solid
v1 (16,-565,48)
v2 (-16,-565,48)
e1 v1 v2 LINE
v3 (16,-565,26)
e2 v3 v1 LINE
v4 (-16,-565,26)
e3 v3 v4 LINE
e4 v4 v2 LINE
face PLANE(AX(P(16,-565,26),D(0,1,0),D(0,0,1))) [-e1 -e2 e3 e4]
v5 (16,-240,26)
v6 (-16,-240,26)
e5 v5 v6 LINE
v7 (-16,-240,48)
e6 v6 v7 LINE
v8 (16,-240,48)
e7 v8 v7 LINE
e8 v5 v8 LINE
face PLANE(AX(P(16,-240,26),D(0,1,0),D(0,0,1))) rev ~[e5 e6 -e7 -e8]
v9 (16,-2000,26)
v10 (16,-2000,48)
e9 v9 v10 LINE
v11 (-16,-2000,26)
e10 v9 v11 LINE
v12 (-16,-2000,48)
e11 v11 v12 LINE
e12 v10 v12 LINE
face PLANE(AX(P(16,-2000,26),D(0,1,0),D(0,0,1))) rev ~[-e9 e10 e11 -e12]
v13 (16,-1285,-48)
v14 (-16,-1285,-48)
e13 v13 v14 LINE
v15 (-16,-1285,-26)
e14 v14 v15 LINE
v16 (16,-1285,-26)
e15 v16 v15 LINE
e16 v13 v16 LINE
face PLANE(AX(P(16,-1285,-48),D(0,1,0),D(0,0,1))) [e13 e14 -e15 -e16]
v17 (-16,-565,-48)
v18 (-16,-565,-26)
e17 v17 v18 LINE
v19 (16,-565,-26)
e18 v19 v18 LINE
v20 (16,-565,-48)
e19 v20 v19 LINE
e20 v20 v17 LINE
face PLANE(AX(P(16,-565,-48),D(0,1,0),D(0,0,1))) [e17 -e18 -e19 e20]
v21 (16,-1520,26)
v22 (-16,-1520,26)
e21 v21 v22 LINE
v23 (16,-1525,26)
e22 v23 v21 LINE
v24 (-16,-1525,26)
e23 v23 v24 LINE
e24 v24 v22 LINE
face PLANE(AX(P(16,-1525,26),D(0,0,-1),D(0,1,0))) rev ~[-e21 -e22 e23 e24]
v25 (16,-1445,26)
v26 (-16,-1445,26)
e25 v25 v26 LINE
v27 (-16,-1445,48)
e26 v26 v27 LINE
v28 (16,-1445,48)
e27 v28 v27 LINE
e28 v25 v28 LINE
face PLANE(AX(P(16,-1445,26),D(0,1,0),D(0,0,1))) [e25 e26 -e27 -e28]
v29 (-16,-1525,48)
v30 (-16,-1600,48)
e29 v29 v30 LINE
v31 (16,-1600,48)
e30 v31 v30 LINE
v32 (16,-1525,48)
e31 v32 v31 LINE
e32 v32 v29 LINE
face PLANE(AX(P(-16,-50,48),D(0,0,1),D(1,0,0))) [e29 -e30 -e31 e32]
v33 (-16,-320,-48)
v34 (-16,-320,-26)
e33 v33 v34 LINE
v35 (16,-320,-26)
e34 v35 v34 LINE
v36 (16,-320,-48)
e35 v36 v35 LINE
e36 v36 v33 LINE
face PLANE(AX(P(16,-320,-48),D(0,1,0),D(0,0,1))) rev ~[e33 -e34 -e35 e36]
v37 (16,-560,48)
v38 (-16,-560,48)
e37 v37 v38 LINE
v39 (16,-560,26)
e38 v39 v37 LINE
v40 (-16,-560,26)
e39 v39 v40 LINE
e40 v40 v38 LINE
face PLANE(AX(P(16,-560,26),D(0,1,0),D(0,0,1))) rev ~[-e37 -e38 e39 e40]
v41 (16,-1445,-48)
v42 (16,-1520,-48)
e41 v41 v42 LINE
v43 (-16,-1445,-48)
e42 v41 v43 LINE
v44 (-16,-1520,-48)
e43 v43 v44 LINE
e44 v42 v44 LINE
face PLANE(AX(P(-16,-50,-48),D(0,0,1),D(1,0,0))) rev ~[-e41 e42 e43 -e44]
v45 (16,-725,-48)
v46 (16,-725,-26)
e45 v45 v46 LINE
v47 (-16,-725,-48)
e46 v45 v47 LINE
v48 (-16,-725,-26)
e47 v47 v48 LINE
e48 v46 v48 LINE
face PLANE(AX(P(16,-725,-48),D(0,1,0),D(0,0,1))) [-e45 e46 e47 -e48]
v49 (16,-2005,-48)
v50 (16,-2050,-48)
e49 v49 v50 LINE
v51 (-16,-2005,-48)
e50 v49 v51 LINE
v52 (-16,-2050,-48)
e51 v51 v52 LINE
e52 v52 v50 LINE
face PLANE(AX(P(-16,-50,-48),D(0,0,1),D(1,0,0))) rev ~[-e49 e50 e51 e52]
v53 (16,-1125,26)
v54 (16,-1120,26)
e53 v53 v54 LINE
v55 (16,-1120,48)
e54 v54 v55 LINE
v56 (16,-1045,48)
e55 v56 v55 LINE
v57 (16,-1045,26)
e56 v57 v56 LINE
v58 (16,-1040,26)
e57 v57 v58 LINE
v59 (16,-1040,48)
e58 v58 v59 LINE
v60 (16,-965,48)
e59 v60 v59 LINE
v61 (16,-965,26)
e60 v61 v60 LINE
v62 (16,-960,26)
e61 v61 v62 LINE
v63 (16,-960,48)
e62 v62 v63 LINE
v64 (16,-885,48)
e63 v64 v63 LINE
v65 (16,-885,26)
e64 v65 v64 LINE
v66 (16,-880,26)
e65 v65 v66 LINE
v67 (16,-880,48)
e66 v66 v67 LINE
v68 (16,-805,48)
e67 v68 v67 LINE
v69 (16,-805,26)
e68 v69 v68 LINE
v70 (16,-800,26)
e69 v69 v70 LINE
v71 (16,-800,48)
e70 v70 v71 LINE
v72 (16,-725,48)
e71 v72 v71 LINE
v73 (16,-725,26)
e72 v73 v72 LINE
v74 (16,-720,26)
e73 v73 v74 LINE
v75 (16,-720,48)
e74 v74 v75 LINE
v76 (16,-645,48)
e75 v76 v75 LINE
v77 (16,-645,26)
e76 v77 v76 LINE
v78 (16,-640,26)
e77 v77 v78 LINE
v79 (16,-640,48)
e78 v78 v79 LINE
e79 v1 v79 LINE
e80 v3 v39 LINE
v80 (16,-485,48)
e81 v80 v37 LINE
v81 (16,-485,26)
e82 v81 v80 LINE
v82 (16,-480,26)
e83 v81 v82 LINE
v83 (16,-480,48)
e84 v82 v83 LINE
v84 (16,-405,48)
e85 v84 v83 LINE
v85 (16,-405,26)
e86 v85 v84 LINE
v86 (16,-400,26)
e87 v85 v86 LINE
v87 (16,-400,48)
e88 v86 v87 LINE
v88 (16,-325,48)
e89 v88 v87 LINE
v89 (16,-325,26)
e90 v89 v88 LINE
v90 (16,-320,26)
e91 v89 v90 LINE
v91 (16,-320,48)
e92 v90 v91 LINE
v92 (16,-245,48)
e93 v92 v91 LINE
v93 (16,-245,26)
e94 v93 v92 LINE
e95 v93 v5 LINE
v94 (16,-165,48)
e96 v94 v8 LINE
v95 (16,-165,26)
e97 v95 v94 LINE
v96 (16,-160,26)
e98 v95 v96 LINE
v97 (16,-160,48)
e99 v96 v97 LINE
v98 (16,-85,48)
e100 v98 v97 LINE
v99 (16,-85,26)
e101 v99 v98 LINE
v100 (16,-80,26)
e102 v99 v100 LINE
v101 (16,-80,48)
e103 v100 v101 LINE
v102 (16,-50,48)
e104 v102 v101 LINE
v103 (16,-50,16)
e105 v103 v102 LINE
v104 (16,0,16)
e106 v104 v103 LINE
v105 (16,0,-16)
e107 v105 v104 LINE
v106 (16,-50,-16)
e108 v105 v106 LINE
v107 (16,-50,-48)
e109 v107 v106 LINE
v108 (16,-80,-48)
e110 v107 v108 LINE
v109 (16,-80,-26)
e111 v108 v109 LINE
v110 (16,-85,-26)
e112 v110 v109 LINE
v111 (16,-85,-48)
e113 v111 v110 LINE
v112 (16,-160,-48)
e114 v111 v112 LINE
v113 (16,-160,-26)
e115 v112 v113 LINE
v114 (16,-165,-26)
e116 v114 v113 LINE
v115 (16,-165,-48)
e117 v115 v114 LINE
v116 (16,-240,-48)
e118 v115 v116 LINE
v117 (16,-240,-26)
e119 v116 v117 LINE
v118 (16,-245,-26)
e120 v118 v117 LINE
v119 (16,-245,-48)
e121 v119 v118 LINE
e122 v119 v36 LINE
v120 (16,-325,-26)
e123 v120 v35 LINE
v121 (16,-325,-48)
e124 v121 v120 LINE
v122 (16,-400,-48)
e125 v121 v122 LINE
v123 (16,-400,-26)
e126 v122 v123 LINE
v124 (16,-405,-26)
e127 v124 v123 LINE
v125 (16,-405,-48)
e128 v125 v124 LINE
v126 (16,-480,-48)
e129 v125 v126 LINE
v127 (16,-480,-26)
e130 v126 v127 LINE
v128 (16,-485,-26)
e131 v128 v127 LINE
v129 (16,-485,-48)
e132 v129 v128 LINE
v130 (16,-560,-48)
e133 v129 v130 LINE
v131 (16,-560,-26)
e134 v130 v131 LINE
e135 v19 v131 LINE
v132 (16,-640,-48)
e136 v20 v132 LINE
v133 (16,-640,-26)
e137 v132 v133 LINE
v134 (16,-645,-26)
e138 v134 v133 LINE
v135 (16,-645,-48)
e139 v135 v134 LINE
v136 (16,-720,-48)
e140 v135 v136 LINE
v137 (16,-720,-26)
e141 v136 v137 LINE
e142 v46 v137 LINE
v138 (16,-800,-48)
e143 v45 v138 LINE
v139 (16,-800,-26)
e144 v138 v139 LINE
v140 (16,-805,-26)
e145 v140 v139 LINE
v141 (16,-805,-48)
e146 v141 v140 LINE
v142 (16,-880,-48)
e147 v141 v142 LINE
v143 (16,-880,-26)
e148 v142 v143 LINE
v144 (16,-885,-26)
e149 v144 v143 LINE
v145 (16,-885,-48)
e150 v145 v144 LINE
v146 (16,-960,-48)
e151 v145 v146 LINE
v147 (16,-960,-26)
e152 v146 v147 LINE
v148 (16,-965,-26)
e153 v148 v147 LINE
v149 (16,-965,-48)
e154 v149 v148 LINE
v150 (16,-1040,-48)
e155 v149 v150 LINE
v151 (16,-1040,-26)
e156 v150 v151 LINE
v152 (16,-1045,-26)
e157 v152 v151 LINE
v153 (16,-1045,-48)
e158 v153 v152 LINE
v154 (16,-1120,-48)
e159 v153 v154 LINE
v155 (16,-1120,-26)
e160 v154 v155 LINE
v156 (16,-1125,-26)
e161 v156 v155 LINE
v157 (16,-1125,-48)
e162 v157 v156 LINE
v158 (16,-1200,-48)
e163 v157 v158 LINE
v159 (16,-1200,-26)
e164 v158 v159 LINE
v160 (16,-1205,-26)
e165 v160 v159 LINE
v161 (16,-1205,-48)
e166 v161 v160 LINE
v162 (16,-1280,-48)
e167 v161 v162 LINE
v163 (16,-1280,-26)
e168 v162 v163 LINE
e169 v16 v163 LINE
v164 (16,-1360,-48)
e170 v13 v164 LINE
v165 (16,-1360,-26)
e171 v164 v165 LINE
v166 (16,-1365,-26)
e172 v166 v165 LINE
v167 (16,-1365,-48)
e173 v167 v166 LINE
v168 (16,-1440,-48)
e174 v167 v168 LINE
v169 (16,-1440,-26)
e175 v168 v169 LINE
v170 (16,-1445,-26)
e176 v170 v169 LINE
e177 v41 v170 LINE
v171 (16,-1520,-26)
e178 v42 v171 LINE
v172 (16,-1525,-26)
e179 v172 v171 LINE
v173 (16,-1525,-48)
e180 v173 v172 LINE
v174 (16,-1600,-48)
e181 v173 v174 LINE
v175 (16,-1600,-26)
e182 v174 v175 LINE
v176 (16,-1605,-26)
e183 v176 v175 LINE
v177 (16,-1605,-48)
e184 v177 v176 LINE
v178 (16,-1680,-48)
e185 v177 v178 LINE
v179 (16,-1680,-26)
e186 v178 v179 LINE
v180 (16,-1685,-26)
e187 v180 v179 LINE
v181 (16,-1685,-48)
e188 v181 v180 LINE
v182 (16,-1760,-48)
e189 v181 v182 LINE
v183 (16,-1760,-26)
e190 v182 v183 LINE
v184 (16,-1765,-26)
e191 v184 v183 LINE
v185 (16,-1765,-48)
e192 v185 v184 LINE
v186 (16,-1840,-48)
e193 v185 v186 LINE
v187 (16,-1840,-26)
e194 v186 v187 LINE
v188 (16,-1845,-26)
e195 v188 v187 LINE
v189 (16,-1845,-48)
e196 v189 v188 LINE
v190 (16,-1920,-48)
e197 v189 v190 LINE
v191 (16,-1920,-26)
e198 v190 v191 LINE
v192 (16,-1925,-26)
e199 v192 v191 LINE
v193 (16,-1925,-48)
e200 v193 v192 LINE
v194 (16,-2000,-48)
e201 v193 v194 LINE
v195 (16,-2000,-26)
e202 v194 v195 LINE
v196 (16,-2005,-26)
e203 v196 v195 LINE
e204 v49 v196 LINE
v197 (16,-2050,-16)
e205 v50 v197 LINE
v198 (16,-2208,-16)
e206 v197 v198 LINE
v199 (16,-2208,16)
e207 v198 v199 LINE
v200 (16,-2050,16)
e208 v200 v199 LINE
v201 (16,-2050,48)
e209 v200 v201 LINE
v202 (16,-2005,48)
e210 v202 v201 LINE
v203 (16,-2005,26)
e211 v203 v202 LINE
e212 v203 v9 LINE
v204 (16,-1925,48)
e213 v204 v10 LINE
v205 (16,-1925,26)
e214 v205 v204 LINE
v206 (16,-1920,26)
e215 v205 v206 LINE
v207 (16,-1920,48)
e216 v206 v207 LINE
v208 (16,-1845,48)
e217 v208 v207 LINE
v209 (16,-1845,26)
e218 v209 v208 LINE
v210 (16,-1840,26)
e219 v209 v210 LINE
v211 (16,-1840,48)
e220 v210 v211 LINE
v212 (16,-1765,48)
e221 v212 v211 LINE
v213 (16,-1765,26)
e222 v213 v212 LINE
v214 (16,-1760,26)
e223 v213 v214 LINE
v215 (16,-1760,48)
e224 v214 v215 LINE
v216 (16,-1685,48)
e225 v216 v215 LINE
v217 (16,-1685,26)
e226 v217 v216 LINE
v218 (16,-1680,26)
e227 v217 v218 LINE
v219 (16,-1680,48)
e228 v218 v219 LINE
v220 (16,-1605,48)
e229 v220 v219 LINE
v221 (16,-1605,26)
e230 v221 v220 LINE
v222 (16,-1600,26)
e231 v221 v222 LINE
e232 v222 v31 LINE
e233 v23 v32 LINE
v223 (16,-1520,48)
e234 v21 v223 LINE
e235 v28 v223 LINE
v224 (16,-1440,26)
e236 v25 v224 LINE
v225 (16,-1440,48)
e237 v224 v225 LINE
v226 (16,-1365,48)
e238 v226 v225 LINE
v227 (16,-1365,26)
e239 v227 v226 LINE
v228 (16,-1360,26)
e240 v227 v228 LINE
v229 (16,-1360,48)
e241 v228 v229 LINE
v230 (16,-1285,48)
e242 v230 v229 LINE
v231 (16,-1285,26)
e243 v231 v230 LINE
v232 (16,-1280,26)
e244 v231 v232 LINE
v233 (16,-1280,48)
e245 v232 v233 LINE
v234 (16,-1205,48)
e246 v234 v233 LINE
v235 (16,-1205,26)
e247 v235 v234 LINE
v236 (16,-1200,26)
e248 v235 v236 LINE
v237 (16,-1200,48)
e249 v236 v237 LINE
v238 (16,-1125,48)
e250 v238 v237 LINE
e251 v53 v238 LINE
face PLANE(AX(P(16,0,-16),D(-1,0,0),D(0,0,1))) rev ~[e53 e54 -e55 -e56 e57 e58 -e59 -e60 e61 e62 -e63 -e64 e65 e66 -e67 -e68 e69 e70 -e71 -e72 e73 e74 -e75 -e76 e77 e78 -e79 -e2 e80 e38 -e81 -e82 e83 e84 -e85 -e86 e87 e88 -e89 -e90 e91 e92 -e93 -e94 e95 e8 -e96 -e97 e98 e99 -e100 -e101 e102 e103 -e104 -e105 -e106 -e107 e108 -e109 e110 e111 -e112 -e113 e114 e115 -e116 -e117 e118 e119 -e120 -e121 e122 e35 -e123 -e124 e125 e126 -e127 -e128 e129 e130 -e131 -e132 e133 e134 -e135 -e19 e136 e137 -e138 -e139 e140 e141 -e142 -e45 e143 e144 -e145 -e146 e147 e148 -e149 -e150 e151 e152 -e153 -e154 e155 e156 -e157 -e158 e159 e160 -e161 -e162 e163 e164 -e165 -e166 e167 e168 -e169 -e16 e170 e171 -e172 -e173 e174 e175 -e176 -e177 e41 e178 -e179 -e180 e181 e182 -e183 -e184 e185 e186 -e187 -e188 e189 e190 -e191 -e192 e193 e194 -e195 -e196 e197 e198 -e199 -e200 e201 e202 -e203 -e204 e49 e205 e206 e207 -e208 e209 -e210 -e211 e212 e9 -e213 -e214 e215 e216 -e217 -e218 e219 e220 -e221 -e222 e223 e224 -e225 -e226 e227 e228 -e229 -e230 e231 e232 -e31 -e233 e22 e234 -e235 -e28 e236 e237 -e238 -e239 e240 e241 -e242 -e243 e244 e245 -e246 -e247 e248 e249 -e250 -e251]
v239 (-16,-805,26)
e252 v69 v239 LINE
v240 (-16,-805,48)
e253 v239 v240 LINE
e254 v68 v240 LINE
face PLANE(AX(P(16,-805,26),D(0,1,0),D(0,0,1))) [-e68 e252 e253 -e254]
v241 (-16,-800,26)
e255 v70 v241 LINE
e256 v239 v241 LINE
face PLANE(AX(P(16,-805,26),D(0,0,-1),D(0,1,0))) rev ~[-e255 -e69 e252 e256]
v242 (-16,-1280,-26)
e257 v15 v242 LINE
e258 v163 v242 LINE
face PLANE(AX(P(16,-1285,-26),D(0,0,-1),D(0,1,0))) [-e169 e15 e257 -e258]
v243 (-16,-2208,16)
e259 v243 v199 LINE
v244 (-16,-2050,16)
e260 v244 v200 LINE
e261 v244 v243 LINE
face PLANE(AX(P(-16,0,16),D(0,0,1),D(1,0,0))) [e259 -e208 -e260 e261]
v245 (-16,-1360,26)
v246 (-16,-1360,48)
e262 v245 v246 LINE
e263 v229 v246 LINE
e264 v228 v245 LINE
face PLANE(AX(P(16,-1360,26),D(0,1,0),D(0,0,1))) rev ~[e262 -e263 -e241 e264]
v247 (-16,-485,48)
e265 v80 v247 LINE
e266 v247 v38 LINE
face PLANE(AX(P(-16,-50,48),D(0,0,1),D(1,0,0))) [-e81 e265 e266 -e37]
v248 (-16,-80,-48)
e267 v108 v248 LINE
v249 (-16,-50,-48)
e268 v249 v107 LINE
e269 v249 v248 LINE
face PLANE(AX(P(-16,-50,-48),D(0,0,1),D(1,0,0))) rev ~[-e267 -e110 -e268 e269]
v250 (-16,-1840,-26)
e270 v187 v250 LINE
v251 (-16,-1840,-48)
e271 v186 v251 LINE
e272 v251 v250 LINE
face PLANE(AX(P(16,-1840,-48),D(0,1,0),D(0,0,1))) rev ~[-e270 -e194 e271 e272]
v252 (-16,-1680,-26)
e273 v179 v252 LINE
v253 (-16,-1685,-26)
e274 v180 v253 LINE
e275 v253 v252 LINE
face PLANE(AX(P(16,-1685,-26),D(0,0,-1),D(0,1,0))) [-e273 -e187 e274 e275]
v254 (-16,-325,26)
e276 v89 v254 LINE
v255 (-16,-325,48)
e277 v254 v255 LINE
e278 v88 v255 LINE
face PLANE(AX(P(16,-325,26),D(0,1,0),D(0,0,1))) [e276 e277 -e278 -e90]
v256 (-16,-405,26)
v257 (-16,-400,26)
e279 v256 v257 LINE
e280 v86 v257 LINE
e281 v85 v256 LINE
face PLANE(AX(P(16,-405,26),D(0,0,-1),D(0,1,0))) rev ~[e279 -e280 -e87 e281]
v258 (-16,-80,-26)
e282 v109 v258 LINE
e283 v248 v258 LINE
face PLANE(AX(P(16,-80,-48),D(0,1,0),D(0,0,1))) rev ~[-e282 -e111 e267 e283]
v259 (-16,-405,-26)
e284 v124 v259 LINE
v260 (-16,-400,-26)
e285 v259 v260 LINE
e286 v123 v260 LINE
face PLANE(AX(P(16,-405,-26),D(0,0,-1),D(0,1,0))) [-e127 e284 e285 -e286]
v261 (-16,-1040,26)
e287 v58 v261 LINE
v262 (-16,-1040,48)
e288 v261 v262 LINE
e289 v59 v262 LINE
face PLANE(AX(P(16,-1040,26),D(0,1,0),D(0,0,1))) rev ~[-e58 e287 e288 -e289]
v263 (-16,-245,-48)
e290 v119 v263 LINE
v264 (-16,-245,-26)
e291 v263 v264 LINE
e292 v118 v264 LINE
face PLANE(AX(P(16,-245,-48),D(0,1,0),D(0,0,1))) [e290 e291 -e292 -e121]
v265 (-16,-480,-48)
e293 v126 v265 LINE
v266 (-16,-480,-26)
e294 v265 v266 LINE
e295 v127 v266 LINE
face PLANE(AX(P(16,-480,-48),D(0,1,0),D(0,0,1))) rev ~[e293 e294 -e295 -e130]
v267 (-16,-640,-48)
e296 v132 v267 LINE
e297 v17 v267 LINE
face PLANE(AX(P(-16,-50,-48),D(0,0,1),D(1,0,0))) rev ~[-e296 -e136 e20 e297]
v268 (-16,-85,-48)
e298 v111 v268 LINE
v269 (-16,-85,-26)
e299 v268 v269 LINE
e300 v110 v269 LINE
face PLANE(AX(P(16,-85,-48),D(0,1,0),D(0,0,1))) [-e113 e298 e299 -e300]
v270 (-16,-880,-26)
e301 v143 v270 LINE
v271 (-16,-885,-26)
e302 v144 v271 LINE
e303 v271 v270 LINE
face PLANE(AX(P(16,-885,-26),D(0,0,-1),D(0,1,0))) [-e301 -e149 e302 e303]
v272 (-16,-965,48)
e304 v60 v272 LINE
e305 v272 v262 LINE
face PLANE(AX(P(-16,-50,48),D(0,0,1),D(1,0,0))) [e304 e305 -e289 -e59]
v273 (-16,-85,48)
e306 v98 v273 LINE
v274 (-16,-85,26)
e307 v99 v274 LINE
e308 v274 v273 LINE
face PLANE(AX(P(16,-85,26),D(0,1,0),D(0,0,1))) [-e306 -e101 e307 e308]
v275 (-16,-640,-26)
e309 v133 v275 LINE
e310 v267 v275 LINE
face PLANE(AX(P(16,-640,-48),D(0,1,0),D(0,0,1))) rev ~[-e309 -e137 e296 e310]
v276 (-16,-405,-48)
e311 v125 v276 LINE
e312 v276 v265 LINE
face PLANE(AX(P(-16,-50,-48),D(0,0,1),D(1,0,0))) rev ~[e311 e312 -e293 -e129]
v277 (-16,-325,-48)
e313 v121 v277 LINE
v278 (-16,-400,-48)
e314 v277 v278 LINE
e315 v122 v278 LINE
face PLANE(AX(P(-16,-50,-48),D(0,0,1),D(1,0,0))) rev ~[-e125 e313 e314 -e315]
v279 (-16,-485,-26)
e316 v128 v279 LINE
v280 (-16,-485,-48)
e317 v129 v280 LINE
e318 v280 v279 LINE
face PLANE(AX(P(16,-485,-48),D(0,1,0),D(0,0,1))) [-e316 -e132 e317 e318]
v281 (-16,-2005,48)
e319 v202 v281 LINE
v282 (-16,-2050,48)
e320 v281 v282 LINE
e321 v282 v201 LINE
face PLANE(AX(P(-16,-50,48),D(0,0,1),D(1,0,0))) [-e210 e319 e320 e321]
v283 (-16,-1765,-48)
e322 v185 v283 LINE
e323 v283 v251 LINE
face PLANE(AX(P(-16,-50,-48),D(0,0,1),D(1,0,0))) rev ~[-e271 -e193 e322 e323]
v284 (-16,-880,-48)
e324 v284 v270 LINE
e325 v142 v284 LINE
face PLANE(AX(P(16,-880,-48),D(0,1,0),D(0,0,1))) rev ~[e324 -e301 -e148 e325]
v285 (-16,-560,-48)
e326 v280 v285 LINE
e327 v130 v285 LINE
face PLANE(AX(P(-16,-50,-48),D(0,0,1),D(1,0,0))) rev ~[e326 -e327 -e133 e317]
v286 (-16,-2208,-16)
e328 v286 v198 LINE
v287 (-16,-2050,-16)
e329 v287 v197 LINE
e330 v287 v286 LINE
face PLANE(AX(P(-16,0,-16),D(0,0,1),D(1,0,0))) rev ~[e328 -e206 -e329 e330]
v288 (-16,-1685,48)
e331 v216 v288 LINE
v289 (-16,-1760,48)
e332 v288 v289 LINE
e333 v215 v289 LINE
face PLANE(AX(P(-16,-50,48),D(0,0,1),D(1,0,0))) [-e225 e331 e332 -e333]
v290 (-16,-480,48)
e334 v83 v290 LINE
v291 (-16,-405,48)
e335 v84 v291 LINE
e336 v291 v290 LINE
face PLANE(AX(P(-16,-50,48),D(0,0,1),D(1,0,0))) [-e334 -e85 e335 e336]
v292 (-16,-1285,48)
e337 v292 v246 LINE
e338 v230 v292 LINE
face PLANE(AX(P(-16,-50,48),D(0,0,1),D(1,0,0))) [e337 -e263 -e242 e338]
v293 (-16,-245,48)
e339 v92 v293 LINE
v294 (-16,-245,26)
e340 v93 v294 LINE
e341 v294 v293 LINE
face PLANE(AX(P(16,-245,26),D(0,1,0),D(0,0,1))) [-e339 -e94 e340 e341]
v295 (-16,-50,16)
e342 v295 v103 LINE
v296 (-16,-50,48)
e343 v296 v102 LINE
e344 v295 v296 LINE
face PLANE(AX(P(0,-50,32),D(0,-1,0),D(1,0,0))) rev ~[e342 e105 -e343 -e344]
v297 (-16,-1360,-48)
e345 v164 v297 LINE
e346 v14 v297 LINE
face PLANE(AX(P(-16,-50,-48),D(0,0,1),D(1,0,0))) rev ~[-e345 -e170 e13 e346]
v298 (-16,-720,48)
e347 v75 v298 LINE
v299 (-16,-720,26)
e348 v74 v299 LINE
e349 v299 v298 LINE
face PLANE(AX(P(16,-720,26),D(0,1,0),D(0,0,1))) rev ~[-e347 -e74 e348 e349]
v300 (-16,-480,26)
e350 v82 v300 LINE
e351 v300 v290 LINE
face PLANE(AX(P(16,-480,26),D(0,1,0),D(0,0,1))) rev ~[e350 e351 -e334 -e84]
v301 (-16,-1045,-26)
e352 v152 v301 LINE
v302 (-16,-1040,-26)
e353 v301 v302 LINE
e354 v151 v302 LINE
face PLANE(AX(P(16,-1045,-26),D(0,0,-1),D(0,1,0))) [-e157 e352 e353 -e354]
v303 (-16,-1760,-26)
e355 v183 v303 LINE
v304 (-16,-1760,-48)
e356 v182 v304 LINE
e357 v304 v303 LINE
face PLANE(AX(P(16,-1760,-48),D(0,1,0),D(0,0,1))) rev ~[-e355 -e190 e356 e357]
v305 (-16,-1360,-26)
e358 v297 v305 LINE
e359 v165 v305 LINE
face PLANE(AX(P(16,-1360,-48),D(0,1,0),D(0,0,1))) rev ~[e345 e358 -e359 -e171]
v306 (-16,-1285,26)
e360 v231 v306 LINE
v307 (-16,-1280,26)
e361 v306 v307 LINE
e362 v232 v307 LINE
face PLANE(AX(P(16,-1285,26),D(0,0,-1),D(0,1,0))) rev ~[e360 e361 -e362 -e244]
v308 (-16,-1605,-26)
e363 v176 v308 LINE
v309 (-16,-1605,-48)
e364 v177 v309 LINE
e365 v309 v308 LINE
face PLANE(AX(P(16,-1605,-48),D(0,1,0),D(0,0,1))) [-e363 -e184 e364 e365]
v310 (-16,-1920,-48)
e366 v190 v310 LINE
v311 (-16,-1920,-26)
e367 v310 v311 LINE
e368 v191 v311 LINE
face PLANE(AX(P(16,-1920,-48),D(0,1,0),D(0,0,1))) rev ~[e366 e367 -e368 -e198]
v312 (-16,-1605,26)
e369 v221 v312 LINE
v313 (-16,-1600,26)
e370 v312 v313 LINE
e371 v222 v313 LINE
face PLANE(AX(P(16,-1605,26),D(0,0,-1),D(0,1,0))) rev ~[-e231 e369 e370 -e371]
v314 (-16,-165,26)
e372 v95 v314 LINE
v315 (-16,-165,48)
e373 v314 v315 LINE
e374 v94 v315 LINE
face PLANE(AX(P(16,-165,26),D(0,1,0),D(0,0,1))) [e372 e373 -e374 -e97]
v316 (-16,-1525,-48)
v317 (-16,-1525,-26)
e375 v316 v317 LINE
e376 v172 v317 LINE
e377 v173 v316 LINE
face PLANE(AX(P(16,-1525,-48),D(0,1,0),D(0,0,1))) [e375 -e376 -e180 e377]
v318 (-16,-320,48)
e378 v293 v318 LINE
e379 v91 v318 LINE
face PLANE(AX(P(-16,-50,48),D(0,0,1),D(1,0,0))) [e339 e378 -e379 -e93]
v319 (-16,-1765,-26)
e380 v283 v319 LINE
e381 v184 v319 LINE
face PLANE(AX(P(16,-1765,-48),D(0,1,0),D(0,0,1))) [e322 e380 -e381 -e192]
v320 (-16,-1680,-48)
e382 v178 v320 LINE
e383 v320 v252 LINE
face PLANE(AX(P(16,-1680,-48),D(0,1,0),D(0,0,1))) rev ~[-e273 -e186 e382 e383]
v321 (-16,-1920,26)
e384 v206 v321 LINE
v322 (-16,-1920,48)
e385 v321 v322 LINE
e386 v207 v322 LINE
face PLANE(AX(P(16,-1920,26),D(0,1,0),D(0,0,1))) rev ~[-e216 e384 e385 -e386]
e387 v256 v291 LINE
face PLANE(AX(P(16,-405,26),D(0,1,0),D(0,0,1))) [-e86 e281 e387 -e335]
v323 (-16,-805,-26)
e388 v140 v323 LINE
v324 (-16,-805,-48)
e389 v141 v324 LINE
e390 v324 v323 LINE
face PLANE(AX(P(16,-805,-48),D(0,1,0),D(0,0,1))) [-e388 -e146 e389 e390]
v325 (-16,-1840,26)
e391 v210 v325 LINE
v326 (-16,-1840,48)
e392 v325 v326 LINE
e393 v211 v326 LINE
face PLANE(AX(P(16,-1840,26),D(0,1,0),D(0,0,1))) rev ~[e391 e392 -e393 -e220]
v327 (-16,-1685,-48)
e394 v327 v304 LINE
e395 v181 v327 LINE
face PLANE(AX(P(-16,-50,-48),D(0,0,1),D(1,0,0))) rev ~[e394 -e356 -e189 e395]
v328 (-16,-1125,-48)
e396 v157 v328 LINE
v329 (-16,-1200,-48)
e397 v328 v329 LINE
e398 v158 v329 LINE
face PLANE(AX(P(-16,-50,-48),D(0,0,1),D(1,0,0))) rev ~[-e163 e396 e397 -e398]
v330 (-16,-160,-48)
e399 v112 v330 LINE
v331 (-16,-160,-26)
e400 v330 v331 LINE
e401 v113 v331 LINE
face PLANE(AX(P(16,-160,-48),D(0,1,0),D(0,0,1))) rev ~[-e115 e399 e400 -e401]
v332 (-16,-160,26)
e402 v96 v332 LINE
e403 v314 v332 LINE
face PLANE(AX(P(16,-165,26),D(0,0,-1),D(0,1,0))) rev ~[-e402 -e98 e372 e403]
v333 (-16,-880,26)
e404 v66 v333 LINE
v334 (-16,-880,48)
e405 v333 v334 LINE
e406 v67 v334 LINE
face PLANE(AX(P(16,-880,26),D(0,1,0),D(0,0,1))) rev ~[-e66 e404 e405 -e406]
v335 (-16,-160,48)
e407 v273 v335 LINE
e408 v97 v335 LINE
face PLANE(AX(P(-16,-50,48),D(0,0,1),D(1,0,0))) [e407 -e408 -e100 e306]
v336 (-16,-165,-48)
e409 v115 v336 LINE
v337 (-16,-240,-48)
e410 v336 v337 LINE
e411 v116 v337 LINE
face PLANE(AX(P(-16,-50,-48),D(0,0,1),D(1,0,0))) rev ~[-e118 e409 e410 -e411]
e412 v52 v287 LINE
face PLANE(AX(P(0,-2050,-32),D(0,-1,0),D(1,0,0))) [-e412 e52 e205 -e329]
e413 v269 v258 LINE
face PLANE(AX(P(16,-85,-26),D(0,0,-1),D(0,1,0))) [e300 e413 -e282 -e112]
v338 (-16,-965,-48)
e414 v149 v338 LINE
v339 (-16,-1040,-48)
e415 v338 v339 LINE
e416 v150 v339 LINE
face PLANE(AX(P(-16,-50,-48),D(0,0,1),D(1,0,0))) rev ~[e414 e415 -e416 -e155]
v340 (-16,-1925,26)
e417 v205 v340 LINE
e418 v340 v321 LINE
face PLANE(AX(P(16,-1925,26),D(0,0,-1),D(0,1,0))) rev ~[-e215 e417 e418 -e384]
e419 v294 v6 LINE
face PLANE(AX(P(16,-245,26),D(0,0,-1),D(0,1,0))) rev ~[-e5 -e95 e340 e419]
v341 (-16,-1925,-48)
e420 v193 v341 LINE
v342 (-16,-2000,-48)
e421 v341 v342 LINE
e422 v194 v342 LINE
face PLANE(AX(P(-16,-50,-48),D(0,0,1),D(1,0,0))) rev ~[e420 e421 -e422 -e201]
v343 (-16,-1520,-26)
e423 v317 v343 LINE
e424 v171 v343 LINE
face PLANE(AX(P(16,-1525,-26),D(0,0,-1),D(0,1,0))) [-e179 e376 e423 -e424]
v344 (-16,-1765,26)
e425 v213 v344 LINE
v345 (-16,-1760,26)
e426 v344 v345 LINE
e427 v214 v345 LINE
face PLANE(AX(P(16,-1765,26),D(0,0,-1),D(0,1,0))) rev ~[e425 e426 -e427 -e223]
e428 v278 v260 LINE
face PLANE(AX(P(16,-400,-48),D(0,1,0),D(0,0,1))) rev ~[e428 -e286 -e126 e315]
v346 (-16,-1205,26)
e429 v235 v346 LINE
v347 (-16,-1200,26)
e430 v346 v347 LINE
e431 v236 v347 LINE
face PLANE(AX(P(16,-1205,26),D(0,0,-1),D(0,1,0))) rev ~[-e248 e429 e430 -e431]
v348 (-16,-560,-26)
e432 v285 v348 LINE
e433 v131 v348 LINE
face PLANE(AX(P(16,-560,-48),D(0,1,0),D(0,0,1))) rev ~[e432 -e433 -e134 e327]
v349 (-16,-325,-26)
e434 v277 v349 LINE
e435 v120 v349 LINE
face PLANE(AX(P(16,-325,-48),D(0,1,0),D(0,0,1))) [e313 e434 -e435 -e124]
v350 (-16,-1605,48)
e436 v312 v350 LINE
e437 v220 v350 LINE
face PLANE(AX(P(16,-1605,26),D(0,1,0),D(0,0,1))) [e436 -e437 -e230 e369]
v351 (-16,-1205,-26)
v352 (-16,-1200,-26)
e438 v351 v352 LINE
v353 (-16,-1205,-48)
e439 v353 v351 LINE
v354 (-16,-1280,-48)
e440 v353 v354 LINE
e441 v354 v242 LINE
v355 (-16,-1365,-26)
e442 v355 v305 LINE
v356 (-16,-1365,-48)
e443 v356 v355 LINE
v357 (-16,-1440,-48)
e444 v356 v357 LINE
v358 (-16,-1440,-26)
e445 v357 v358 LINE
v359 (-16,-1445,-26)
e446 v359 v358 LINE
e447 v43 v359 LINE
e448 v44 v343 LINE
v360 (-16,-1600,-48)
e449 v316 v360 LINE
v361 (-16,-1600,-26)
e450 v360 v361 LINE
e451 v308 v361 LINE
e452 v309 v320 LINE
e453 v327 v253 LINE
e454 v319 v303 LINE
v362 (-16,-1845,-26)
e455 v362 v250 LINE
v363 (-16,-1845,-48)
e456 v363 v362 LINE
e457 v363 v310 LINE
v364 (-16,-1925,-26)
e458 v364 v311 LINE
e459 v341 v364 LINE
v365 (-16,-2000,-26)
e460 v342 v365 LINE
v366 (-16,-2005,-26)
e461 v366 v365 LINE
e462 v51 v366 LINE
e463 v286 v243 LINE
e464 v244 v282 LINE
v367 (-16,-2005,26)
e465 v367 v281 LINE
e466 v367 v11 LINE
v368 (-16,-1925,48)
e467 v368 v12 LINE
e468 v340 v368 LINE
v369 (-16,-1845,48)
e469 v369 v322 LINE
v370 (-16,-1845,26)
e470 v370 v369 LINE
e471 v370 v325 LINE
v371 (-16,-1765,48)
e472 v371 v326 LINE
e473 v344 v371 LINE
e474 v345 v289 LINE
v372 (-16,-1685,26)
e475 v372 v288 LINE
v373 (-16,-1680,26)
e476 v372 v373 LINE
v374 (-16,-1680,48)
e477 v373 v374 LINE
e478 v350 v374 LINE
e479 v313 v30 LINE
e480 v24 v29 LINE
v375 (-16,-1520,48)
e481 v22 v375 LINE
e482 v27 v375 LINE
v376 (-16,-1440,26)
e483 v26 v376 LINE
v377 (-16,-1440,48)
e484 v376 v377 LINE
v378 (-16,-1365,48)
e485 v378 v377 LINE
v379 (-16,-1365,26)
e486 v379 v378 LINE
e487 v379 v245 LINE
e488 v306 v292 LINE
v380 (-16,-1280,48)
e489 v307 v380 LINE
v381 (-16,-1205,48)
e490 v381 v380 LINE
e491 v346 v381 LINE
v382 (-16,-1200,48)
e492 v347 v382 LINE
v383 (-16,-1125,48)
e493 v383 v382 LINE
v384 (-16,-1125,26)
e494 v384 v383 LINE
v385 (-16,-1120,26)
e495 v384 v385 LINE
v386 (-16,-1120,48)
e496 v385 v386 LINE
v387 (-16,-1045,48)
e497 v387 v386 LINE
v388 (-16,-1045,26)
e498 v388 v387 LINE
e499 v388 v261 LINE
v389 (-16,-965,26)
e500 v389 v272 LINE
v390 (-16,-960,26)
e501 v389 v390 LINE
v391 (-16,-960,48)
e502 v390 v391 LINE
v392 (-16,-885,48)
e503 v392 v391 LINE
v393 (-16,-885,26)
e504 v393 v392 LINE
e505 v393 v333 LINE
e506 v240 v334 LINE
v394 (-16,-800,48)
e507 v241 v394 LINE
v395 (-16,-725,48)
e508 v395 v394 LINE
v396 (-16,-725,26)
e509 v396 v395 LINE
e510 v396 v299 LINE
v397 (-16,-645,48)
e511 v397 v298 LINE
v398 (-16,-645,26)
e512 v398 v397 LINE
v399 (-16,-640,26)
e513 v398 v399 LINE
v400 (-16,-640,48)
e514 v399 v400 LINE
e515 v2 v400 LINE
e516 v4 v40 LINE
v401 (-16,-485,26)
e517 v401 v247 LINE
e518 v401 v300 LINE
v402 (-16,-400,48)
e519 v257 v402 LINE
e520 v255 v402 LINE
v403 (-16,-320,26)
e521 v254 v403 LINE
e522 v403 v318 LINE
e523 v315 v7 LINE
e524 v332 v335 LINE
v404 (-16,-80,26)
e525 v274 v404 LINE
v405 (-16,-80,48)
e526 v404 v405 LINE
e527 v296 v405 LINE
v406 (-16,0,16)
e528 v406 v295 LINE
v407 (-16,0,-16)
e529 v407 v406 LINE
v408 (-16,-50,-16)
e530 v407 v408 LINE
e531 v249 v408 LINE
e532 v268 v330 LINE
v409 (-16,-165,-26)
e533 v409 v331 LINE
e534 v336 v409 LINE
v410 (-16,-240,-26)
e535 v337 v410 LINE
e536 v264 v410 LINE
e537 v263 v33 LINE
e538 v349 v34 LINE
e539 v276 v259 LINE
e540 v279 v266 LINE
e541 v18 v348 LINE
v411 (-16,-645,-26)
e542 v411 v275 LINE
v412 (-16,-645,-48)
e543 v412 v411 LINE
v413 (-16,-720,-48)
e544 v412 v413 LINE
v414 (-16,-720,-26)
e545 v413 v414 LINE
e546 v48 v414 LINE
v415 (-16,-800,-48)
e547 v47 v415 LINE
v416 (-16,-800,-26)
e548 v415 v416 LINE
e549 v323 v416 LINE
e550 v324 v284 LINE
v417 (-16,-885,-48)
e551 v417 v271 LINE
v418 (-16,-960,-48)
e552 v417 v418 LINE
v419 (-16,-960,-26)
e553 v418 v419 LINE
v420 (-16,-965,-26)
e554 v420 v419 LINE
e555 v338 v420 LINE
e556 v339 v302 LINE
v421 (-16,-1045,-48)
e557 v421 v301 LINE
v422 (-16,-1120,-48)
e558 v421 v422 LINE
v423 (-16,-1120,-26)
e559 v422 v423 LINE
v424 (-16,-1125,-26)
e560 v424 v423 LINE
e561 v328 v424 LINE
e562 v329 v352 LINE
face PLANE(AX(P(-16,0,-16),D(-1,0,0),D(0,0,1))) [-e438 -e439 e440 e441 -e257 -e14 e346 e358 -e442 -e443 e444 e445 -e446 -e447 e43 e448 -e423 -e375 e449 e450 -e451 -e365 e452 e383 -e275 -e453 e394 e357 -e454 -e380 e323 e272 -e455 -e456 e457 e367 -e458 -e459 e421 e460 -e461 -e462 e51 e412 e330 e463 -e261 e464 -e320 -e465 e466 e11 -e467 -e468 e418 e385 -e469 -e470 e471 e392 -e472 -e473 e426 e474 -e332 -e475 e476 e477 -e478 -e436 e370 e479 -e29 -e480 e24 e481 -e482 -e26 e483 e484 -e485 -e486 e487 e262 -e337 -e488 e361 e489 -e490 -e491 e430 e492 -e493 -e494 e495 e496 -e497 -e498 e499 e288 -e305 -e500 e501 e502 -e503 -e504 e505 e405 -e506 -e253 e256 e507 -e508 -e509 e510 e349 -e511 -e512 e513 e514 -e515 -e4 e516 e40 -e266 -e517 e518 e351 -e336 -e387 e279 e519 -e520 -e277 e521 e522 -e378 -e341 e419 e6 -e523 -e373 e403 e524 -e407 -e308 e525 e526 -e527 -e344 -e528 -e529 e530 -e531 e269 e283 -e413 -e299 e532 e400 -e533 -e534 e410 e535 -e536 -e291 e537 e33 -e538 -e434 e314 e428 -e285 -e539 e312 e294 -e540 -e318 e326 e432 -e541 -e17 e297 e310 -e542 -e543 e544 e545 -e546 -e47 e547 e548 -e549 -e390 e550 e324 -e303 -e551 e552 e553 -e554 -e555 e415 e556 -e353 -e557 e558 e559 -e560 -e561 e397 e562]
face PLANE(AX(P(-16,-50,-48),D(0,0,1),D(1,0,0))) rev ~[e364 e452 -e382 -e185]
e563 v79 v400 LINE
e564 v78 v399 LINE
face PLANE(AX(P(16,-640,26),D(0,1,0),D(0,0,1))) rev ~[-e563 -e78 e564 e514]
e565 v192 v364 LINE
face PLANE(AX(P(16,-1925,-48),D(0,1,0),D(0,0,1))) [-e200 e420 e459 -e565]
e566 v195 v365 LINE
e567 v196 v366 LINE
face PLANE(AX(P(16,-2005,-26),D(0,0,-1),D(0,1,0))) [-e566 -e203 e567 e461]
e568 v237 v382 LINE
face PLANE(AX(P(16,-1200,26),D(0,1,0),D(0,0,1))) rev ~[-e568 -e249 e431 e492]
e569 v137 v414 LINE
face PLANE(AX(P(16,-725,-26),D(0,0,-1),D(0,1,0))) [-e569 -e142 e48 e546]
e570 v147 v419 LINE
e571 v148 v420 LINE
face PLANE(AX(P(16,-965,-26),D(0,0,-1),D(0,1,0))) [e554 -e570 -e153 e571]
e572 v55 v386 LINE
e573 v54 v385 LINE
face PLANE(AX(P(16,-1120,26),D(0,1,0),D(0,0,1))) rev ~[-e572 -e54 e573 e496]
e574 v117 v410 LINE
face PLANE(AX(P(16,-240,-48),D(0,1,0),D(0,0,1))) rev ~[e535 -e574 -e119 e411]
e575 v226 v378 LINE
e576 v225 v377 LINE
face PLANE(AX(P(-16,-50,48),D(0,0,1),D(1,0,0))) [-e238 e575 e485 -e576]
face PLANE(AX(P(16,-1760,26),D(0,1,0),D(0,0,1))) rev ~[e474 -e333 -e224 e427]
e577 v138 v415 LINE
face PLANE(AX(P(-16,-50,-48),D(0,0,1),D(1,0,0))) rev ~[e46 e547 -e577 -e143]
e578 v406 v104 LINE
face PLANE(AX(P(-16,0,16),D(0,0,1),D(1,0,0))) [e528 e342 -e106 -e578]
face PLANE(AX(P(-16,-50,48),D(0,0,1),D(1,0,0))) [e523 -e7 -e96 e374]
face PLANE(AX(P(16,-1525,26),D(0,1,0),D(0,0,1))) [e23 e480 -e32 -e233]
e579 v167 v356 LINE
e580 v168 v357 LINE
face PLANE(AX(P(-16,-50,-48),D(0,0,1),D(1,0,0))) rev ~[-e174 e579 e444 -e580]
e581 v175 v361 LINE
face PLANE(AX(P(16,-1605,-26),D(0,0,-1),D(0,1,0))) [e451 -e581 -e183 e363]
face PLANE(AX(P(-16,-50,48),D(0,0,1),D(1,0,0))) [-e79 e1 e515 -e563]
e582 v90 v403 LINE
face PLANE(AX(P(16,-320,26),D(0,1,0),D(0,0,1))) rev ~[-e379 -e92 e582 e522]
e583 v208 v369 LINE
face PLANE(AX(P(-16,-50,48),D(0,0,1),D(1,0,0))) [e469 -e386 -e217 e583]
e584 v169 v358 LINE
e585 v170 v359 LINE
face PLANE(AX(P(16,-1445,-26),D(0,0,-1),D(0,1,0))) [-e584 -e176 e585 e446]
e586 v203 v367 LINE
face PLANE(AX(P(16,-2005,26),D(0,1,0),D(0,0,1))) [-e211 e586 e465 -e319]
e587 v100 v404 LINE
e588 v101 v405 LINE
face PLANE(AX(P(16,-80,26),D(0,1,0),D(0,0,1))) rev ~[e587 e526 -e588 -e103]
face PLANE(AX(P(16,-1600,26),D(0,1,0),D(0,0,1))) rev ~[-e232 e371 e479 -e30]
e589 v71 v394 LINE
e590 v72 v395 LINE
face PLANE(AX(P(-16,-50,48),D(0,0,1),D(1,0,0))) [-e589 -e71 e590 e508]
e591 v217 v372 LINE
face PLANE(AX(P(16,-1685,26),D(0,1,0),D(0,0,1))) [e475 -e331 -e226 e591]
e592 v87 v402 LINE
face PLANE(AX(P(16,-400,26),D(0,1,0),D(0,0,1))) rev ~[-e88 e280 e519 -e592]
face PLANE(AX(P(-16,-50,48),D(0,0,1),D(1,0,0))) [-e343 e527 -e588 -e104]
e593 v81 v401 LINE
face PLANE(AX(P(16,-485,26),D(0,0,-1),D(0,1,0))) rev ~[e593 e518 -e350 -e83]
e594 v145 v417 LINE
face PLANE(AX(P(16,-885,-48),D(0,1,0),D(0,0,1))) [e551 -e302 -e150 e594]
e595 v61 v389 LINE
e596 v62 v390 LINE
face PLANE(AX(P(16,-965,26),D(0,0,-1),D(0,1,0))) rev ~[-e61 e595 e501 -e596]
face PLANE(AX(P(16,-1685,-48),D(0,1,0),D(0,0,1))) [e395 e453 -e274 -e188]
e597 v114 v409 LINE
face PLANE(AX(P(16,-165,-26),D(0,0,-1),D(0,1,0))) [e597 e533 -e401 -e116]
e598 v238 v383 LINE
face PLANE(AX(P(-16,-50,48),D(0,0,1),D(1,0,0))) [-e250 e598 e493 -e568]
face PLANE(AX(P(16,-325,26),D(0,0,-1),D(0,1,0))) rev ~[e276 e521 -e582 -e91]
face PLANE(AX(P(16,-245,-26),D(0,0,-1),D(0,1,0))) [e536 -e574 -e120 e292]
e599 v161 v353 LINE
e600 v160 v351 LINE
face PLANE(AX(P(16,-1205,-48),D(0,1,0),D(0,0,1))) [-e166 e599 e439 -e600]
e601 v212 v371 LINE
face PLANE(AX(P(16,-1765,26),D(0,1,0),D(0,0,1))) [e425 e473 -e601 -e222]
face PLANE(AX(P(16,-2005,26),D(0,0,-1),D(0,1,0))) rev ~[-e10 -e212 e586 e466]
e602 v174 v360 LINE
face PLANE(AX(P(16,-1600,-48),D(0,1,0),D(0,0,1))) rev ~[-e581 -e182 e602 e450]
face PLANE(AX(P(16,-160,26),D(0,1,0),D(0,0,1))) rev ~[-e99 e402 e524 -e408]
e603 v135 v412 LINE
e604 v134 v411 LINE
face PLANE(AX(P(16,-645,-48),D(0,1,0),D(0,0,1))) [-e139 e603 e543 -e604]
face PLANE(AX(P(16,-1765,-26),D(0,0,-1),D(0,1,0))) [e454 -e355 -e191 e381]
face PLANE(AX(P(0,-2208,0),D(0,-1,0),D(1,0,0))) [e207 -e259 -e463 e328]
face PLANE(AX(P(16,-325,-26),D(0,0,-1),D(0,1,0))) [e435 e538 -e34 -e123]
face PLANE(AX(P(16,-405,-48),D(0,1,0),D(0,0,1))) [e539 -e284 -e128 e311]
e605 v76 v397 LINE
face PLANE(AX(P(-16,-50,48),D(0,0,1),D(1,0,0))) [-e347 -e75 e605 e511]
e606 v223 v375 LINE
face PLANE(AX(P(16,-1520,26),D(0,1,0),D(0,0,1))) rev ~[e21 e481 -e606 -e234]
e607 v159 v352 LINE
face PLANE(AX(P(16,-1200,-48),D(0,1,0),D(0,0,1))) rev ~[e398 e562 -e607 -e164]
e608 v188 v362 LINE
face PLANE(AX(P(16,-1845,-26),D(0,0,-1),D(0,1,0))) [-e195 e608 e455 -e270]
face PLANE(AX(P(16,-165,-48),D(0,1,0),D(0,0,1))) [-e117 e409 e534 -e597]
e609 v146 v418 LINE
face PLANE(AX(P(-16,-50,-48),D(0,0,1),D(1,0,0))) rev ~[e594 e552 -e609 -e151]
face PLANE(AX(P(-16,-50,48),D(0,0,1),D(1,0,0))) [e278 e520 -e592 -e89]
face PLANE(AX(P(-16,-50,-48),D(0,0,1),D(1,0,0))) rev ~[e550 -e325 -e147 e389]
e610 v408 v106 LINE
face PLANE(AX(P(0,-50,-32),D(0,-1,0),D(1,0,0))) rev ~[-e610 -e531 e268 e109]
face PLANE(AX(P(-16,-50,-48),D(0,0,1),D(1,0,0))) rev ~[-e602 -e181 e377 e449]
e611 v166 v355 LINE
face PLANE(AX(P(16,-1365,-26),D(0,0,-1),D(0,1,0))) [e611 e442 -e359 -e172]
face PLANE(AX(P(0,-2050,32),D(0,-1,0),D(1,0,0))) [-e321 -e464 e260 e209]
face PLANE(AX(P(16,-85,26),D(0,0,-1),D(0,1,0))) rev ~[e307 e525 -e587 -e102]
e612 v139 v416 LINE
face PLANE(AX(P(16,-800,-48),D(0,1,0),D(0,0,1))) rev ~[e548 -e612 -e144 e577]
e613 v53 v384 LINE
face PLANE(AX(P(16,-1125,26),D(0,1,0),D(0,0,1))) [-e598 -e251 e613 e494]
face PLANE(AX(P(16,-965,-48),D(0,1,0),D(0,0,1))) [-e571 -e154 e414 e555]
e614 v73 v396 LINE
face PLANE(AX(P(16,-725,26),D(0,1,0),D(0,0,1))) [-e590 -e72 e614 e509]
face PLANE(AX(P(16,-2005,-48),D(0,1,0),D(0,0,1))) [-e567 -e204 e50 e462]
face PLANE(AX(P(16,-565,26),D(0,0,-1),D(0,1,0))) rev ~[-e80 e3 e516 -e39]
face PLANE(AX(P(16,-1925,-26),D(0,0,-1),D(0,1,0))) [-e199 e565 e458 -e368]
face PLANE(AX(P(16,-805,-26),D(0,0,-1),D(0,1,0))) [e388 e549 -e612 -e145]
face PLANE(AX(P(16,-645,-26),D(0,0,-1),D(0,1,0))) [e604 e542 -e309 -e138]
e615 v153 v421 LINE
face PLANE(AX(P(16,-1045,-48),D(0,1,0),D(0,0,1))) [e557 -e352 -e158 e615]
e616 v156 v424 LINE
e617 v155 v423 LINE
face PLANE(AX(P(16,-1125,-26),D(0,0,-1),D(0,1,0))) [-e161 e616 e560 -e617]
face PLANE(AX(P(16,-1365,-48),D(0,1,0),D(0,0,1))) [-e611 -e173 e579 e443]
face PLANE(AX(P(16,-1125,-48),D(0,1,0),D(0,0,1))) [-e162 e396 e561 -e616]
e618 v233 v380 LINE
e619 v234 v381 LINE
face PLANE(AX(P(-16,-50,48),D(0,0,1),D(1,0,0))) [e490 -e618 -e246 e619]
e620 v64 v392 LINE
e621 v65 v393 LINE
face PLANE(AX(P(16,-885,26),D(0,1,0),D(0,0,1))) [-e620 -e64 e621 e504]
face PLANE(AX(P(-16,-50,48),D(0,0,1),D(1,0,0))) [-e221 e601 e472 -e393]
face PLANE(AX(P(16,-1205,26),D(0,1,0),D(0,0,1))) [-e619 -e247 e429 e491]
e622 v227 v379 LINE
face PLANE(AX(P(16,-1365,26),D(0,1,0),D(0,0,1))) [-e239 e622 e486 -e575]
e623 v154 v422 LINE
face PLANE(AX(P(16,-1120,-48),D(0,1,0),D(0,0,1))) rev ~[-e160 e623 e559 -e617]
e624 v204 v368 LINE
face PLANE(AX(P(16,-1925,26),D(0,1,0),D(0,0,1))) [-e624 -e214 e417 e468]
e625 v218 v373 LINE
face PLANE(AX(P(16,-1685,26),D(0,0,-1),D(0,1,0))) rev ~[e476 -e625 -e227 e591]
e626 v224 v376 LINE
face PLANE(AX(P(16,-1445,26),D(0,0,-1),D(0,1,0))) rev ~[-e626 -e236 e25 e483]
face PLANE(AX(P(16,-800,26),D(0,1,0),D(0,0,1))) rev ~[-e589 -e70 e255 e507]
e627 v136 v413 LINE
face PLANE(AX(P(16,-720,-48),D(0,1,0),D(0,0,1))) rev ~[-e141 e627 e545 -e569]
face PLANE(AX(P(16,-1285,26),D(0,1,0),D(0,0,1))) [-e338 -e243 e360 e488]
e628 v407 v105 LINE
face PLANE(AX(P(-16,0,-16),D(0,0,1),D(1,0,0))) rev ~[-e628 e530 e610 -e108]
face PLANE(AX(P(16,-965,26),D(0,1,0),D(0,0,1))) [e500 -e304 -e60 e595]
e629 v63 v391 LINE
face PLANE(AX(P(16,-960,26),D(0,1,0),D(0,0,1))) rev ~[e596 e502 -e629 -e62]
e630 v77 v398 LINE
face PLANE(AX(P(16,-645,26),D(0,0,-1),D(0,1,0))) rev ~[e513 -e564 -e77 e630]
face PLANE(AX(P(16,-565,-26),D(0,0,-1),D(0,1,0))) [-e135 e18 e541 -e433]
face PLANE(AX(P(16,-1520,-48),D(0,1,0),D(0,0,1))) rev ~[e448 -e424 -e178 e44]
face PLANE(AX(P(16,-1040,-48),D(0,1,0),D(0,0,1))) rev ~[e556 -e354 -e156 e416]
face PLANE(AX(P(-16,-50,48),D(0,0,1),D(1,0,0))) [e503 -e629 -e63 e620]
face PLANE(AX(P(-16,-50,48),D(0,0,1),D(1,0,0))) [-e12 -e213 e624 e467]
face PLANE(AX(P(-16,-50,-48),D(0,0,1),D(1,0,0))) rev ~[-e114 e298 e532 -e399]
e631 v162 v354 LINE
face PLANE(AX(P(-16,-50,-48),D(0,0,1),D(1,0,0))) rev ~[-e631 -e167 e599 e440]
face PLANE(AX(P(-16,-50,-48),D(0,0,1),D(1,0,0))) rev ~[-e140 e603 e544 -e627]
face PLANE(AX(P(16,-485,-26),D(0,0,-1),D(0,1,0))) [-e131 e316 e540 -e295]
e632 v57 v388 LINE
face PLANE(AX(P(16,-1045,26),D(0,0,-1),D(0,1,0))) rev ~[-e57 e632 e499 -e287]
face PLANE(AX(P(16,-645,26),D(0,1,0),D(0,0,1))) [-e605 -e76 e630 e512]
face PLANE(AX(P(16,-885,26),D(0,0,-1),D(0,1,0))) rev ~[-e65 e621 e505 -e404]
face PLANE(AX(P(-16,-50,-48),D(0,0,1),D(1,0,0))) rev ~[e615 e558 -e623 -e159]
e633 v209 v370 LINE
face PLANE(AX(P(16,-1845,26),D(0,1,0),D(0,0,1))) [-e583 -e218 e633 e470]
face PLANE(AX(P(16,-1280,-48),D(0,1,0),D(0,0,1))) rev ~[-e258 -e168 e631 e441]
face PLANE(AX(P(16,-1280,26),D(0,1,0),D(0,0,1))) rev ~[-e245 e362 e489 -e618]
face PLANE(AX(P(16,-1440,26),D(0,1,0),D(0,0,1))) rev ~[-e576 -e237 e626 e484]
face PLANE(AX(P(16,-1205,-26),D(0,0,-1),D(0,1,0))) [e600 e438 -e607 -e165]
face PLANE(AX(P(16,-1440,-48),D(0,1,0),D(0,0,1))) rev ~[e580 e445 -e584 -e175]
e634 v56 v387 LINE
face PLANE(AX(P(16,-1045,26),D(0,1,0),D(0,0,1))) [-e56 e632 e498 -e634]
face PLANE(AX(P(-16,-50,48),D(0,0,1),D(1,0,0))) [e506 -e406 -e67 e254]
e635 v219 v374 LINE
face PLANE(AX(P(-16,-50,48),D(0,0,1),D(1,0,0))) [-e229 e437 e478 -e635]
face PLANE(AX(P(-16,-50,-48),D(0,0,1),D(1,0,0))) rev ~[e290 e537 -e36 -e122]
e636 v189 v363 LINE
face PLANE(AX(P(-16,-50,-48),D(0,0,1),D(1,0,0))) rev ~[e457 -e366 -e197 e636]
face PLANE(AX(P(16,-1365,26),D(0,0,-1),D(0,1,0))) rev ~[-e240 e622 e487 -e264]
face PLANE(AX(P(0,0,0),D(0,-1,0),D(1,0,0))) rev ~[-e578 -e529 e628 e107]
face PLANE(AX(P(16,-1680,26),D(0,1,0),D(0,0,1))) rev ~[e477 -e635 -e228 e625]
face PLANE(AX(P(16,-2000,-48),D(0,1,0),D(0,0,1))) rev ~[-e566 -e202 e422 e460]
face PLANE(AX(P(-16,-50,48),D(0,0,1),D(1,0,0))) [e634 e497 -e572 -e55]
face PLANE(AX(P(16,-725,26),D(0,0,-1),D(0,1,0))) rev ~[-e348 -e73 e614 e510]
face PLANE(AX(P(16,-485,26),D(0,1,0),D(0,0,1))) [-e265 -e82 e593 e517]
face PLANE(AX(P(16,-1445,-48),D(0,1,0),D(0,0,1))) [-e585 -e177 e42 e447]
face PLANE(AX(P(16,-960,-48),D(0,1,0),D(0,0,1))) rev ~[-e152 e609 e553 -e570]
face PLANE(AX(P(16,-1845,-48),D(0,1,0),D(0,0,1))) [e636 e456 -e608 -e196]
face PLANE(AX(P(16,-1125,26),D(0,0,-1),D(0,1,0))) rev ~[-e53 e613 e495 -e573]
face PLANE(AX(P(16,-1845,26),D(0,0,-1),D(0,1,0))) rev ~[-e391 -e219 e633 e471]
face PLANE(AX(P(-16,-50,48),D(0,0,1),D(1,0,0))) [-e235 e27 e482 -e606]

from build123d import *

# Parameters (mm, degrees)
F0_W     = 32
F0_H     = 32
F1_DEPTH = 2208
F3_W     = 32
F3_H     = 32
F4_DEPTH = 2000
F5_W     = 5
F5_H     = 22
F6_DEPTH = 32


with BuildPart() as f1:
    # F0 (on Front) → F1 (new body)
    with BuildSketch(Plane.XZ):
        Rectangle(F0_W, F0_H)
    extrude(amount=F1_DEPTH)

    # F3 (on offset) → F4 (join)
    with BuildSketch(Plane.XZ.offset(50)):
        with Locations((0, 32)):
            Rectangle(F3_W, F3_H)
        with Locations((0, -32)):
            Rectangle(F3_W, F3_H)
    extrude(amount=F4_DEPTH)

    # F5 (on face) → F6 (cut)
    with BuildSketch(Plane.YZ.offset(16)):
        with Locations((-82.5, 37)):
            Rectangle(F5_W, F5_H)
        with Locations((-82.5, -37)):
            Rectangle(F5_W, F5_H)
        with Locations((-162.5, 37)):
            Rectangle(F5_W, F5_H)
        with Locations((-162.5, -37)):
            Rectangle(F5_W, F5_H)
        with Locations((-242.5, 37)):
            Rectangle(F5_W, F5_H)
        with Locations((-242.5, -37)):
            Rectangle(F5_W, F5_H)
        with Locations((-322.5, 37)):
            Rectangle(F5_W, F5_H)
        with Locations((-322.5, -37)):
            Rectangle(F5_W, F5_H)
        with Locations((-402.5, 37)):
            Rectangle(F5_W, F5_H)
        with Locations((-402.5, -37)):
            Rectangle(F5_W, F5_H)
        with Locations((-482.5, 37)):
            Rectangle(F5_W, F5_H)
        with Locations((-482.5, -37)):
            Rectangle(F5_W, F5_H)
        with Locations((-562.5, 37)):
            Rectangle(F5_W, F5_H)
        with Locations((-562.5, -37)):
            Rectangle(F5_W, F5_H)
        with Locations((-642.5, 37)):
            Rectangle(F5_W, F5_H)
        with Locations((-642.5, -37)):
            Rectangle(F5_W, F5_H)
        with Locations((-722.5, 37)):
            Rectangle(F5_W, F5_H)
        with Locations((-722.5, -37)):
            Rectangle(F5_W, F5_H)
        with Locations((-802.5, 37)):
            Rectangle(F5_W, F5_H)
        with Locations((-802.5, -37)):
            Rectangle(F5_W, F5_H)
        with Locations((-882.5, 37)):
            Rectangle(F5_W, F5_H)
        with Locations((-882.5, -37)):
            Rectangle(F5_W, F5_H)
        with Locations((-962.5, 37)):
            Rectangle(F5_W, F5_H)
        with Locations((-962.5, -37)):
            Rectangle(F5_W, F5_H)
        with Locations((-1042.5, 37)):
            Rectangle(F5_W, F5_H)
        with Locations((-1042.5, -37)):
            Rectangle(F5_W, F5_H)
        with Locations((-1122.5, 37)):
            Rectangle(F5_W, F5_H)
        with Locations((-1122.5, -37)):
            Rectangle(F5_W, F5_H)
        with Locations((-1202.5, 37)):
            Rectangle(F5_W, F5_H)
        with Locations((-1202.5, -37)):
            Rectangle(F5_W, F5_H)
        with Locations((-1282.5, 37)):
            Rectangle(F5_W, F5_H)
        with Locations((-1282.5, -37)):
            Rectangle(F5_W, F5_H)
        with Locations((-1362.5, 37)):
            Rectangle(F5_W, F5_H)
        with Locations((-1362.5, -37)):
            Rectangle(F5_W, F5_H)
        with Locations((-1442.5, 37)):
            Rectangle(F5_W, F5_H)
        with Locations((-1442.5, -37)):
            Rectangle(F5_W, F5_H)
        with Locations((-1522.5, 37)):
            Rectangle(F5_W, F5_H)
        with Locations((-1522.5, -37)):
            Rectangle(F5_W, F5_H)
        with Locations((-1602.5, 37)):
            Rectangle(F5_W, F5_H)
        with Locations((-1602.5, -37)):
            Rectangle(F5_W, F5_H)
        with Locations((-1682.5, 37)):
            Rectangle(F5_W, F5_H)
        with Locations((-1682.5, -37)):
            Rectangle(F5_W, F5_H)
        with Locations((-1762.5, 37)):
            Rectangle(F5_W, F5_H)
        with Locations((-1762.5, -37)):
            Rectangle(F5_W, F5_H)
        with Locations((-1842.5, 37)):
            Rectangle(F5_W, F5_H)
        with Locations((-1842.5, -37)):
            Rectangle(F5_W, F5_H)
        with Locations((-1922.5, 37)):
            Rectangle(F5_W, F5_H)
        with Locations((-1922.5, -37)):
            Rectangle(F5_W, F5_H)
        with Locations((-2002.5, 37)):
            Rectangle(F5_W, F5_H)
        with Locations((-2002.5, -37)):
            Rectangle(F5_W, F5_H)
    extrude(amount=-F6_DEPTH, mode=Mode.SUBTRACT)


solid = f1.part
